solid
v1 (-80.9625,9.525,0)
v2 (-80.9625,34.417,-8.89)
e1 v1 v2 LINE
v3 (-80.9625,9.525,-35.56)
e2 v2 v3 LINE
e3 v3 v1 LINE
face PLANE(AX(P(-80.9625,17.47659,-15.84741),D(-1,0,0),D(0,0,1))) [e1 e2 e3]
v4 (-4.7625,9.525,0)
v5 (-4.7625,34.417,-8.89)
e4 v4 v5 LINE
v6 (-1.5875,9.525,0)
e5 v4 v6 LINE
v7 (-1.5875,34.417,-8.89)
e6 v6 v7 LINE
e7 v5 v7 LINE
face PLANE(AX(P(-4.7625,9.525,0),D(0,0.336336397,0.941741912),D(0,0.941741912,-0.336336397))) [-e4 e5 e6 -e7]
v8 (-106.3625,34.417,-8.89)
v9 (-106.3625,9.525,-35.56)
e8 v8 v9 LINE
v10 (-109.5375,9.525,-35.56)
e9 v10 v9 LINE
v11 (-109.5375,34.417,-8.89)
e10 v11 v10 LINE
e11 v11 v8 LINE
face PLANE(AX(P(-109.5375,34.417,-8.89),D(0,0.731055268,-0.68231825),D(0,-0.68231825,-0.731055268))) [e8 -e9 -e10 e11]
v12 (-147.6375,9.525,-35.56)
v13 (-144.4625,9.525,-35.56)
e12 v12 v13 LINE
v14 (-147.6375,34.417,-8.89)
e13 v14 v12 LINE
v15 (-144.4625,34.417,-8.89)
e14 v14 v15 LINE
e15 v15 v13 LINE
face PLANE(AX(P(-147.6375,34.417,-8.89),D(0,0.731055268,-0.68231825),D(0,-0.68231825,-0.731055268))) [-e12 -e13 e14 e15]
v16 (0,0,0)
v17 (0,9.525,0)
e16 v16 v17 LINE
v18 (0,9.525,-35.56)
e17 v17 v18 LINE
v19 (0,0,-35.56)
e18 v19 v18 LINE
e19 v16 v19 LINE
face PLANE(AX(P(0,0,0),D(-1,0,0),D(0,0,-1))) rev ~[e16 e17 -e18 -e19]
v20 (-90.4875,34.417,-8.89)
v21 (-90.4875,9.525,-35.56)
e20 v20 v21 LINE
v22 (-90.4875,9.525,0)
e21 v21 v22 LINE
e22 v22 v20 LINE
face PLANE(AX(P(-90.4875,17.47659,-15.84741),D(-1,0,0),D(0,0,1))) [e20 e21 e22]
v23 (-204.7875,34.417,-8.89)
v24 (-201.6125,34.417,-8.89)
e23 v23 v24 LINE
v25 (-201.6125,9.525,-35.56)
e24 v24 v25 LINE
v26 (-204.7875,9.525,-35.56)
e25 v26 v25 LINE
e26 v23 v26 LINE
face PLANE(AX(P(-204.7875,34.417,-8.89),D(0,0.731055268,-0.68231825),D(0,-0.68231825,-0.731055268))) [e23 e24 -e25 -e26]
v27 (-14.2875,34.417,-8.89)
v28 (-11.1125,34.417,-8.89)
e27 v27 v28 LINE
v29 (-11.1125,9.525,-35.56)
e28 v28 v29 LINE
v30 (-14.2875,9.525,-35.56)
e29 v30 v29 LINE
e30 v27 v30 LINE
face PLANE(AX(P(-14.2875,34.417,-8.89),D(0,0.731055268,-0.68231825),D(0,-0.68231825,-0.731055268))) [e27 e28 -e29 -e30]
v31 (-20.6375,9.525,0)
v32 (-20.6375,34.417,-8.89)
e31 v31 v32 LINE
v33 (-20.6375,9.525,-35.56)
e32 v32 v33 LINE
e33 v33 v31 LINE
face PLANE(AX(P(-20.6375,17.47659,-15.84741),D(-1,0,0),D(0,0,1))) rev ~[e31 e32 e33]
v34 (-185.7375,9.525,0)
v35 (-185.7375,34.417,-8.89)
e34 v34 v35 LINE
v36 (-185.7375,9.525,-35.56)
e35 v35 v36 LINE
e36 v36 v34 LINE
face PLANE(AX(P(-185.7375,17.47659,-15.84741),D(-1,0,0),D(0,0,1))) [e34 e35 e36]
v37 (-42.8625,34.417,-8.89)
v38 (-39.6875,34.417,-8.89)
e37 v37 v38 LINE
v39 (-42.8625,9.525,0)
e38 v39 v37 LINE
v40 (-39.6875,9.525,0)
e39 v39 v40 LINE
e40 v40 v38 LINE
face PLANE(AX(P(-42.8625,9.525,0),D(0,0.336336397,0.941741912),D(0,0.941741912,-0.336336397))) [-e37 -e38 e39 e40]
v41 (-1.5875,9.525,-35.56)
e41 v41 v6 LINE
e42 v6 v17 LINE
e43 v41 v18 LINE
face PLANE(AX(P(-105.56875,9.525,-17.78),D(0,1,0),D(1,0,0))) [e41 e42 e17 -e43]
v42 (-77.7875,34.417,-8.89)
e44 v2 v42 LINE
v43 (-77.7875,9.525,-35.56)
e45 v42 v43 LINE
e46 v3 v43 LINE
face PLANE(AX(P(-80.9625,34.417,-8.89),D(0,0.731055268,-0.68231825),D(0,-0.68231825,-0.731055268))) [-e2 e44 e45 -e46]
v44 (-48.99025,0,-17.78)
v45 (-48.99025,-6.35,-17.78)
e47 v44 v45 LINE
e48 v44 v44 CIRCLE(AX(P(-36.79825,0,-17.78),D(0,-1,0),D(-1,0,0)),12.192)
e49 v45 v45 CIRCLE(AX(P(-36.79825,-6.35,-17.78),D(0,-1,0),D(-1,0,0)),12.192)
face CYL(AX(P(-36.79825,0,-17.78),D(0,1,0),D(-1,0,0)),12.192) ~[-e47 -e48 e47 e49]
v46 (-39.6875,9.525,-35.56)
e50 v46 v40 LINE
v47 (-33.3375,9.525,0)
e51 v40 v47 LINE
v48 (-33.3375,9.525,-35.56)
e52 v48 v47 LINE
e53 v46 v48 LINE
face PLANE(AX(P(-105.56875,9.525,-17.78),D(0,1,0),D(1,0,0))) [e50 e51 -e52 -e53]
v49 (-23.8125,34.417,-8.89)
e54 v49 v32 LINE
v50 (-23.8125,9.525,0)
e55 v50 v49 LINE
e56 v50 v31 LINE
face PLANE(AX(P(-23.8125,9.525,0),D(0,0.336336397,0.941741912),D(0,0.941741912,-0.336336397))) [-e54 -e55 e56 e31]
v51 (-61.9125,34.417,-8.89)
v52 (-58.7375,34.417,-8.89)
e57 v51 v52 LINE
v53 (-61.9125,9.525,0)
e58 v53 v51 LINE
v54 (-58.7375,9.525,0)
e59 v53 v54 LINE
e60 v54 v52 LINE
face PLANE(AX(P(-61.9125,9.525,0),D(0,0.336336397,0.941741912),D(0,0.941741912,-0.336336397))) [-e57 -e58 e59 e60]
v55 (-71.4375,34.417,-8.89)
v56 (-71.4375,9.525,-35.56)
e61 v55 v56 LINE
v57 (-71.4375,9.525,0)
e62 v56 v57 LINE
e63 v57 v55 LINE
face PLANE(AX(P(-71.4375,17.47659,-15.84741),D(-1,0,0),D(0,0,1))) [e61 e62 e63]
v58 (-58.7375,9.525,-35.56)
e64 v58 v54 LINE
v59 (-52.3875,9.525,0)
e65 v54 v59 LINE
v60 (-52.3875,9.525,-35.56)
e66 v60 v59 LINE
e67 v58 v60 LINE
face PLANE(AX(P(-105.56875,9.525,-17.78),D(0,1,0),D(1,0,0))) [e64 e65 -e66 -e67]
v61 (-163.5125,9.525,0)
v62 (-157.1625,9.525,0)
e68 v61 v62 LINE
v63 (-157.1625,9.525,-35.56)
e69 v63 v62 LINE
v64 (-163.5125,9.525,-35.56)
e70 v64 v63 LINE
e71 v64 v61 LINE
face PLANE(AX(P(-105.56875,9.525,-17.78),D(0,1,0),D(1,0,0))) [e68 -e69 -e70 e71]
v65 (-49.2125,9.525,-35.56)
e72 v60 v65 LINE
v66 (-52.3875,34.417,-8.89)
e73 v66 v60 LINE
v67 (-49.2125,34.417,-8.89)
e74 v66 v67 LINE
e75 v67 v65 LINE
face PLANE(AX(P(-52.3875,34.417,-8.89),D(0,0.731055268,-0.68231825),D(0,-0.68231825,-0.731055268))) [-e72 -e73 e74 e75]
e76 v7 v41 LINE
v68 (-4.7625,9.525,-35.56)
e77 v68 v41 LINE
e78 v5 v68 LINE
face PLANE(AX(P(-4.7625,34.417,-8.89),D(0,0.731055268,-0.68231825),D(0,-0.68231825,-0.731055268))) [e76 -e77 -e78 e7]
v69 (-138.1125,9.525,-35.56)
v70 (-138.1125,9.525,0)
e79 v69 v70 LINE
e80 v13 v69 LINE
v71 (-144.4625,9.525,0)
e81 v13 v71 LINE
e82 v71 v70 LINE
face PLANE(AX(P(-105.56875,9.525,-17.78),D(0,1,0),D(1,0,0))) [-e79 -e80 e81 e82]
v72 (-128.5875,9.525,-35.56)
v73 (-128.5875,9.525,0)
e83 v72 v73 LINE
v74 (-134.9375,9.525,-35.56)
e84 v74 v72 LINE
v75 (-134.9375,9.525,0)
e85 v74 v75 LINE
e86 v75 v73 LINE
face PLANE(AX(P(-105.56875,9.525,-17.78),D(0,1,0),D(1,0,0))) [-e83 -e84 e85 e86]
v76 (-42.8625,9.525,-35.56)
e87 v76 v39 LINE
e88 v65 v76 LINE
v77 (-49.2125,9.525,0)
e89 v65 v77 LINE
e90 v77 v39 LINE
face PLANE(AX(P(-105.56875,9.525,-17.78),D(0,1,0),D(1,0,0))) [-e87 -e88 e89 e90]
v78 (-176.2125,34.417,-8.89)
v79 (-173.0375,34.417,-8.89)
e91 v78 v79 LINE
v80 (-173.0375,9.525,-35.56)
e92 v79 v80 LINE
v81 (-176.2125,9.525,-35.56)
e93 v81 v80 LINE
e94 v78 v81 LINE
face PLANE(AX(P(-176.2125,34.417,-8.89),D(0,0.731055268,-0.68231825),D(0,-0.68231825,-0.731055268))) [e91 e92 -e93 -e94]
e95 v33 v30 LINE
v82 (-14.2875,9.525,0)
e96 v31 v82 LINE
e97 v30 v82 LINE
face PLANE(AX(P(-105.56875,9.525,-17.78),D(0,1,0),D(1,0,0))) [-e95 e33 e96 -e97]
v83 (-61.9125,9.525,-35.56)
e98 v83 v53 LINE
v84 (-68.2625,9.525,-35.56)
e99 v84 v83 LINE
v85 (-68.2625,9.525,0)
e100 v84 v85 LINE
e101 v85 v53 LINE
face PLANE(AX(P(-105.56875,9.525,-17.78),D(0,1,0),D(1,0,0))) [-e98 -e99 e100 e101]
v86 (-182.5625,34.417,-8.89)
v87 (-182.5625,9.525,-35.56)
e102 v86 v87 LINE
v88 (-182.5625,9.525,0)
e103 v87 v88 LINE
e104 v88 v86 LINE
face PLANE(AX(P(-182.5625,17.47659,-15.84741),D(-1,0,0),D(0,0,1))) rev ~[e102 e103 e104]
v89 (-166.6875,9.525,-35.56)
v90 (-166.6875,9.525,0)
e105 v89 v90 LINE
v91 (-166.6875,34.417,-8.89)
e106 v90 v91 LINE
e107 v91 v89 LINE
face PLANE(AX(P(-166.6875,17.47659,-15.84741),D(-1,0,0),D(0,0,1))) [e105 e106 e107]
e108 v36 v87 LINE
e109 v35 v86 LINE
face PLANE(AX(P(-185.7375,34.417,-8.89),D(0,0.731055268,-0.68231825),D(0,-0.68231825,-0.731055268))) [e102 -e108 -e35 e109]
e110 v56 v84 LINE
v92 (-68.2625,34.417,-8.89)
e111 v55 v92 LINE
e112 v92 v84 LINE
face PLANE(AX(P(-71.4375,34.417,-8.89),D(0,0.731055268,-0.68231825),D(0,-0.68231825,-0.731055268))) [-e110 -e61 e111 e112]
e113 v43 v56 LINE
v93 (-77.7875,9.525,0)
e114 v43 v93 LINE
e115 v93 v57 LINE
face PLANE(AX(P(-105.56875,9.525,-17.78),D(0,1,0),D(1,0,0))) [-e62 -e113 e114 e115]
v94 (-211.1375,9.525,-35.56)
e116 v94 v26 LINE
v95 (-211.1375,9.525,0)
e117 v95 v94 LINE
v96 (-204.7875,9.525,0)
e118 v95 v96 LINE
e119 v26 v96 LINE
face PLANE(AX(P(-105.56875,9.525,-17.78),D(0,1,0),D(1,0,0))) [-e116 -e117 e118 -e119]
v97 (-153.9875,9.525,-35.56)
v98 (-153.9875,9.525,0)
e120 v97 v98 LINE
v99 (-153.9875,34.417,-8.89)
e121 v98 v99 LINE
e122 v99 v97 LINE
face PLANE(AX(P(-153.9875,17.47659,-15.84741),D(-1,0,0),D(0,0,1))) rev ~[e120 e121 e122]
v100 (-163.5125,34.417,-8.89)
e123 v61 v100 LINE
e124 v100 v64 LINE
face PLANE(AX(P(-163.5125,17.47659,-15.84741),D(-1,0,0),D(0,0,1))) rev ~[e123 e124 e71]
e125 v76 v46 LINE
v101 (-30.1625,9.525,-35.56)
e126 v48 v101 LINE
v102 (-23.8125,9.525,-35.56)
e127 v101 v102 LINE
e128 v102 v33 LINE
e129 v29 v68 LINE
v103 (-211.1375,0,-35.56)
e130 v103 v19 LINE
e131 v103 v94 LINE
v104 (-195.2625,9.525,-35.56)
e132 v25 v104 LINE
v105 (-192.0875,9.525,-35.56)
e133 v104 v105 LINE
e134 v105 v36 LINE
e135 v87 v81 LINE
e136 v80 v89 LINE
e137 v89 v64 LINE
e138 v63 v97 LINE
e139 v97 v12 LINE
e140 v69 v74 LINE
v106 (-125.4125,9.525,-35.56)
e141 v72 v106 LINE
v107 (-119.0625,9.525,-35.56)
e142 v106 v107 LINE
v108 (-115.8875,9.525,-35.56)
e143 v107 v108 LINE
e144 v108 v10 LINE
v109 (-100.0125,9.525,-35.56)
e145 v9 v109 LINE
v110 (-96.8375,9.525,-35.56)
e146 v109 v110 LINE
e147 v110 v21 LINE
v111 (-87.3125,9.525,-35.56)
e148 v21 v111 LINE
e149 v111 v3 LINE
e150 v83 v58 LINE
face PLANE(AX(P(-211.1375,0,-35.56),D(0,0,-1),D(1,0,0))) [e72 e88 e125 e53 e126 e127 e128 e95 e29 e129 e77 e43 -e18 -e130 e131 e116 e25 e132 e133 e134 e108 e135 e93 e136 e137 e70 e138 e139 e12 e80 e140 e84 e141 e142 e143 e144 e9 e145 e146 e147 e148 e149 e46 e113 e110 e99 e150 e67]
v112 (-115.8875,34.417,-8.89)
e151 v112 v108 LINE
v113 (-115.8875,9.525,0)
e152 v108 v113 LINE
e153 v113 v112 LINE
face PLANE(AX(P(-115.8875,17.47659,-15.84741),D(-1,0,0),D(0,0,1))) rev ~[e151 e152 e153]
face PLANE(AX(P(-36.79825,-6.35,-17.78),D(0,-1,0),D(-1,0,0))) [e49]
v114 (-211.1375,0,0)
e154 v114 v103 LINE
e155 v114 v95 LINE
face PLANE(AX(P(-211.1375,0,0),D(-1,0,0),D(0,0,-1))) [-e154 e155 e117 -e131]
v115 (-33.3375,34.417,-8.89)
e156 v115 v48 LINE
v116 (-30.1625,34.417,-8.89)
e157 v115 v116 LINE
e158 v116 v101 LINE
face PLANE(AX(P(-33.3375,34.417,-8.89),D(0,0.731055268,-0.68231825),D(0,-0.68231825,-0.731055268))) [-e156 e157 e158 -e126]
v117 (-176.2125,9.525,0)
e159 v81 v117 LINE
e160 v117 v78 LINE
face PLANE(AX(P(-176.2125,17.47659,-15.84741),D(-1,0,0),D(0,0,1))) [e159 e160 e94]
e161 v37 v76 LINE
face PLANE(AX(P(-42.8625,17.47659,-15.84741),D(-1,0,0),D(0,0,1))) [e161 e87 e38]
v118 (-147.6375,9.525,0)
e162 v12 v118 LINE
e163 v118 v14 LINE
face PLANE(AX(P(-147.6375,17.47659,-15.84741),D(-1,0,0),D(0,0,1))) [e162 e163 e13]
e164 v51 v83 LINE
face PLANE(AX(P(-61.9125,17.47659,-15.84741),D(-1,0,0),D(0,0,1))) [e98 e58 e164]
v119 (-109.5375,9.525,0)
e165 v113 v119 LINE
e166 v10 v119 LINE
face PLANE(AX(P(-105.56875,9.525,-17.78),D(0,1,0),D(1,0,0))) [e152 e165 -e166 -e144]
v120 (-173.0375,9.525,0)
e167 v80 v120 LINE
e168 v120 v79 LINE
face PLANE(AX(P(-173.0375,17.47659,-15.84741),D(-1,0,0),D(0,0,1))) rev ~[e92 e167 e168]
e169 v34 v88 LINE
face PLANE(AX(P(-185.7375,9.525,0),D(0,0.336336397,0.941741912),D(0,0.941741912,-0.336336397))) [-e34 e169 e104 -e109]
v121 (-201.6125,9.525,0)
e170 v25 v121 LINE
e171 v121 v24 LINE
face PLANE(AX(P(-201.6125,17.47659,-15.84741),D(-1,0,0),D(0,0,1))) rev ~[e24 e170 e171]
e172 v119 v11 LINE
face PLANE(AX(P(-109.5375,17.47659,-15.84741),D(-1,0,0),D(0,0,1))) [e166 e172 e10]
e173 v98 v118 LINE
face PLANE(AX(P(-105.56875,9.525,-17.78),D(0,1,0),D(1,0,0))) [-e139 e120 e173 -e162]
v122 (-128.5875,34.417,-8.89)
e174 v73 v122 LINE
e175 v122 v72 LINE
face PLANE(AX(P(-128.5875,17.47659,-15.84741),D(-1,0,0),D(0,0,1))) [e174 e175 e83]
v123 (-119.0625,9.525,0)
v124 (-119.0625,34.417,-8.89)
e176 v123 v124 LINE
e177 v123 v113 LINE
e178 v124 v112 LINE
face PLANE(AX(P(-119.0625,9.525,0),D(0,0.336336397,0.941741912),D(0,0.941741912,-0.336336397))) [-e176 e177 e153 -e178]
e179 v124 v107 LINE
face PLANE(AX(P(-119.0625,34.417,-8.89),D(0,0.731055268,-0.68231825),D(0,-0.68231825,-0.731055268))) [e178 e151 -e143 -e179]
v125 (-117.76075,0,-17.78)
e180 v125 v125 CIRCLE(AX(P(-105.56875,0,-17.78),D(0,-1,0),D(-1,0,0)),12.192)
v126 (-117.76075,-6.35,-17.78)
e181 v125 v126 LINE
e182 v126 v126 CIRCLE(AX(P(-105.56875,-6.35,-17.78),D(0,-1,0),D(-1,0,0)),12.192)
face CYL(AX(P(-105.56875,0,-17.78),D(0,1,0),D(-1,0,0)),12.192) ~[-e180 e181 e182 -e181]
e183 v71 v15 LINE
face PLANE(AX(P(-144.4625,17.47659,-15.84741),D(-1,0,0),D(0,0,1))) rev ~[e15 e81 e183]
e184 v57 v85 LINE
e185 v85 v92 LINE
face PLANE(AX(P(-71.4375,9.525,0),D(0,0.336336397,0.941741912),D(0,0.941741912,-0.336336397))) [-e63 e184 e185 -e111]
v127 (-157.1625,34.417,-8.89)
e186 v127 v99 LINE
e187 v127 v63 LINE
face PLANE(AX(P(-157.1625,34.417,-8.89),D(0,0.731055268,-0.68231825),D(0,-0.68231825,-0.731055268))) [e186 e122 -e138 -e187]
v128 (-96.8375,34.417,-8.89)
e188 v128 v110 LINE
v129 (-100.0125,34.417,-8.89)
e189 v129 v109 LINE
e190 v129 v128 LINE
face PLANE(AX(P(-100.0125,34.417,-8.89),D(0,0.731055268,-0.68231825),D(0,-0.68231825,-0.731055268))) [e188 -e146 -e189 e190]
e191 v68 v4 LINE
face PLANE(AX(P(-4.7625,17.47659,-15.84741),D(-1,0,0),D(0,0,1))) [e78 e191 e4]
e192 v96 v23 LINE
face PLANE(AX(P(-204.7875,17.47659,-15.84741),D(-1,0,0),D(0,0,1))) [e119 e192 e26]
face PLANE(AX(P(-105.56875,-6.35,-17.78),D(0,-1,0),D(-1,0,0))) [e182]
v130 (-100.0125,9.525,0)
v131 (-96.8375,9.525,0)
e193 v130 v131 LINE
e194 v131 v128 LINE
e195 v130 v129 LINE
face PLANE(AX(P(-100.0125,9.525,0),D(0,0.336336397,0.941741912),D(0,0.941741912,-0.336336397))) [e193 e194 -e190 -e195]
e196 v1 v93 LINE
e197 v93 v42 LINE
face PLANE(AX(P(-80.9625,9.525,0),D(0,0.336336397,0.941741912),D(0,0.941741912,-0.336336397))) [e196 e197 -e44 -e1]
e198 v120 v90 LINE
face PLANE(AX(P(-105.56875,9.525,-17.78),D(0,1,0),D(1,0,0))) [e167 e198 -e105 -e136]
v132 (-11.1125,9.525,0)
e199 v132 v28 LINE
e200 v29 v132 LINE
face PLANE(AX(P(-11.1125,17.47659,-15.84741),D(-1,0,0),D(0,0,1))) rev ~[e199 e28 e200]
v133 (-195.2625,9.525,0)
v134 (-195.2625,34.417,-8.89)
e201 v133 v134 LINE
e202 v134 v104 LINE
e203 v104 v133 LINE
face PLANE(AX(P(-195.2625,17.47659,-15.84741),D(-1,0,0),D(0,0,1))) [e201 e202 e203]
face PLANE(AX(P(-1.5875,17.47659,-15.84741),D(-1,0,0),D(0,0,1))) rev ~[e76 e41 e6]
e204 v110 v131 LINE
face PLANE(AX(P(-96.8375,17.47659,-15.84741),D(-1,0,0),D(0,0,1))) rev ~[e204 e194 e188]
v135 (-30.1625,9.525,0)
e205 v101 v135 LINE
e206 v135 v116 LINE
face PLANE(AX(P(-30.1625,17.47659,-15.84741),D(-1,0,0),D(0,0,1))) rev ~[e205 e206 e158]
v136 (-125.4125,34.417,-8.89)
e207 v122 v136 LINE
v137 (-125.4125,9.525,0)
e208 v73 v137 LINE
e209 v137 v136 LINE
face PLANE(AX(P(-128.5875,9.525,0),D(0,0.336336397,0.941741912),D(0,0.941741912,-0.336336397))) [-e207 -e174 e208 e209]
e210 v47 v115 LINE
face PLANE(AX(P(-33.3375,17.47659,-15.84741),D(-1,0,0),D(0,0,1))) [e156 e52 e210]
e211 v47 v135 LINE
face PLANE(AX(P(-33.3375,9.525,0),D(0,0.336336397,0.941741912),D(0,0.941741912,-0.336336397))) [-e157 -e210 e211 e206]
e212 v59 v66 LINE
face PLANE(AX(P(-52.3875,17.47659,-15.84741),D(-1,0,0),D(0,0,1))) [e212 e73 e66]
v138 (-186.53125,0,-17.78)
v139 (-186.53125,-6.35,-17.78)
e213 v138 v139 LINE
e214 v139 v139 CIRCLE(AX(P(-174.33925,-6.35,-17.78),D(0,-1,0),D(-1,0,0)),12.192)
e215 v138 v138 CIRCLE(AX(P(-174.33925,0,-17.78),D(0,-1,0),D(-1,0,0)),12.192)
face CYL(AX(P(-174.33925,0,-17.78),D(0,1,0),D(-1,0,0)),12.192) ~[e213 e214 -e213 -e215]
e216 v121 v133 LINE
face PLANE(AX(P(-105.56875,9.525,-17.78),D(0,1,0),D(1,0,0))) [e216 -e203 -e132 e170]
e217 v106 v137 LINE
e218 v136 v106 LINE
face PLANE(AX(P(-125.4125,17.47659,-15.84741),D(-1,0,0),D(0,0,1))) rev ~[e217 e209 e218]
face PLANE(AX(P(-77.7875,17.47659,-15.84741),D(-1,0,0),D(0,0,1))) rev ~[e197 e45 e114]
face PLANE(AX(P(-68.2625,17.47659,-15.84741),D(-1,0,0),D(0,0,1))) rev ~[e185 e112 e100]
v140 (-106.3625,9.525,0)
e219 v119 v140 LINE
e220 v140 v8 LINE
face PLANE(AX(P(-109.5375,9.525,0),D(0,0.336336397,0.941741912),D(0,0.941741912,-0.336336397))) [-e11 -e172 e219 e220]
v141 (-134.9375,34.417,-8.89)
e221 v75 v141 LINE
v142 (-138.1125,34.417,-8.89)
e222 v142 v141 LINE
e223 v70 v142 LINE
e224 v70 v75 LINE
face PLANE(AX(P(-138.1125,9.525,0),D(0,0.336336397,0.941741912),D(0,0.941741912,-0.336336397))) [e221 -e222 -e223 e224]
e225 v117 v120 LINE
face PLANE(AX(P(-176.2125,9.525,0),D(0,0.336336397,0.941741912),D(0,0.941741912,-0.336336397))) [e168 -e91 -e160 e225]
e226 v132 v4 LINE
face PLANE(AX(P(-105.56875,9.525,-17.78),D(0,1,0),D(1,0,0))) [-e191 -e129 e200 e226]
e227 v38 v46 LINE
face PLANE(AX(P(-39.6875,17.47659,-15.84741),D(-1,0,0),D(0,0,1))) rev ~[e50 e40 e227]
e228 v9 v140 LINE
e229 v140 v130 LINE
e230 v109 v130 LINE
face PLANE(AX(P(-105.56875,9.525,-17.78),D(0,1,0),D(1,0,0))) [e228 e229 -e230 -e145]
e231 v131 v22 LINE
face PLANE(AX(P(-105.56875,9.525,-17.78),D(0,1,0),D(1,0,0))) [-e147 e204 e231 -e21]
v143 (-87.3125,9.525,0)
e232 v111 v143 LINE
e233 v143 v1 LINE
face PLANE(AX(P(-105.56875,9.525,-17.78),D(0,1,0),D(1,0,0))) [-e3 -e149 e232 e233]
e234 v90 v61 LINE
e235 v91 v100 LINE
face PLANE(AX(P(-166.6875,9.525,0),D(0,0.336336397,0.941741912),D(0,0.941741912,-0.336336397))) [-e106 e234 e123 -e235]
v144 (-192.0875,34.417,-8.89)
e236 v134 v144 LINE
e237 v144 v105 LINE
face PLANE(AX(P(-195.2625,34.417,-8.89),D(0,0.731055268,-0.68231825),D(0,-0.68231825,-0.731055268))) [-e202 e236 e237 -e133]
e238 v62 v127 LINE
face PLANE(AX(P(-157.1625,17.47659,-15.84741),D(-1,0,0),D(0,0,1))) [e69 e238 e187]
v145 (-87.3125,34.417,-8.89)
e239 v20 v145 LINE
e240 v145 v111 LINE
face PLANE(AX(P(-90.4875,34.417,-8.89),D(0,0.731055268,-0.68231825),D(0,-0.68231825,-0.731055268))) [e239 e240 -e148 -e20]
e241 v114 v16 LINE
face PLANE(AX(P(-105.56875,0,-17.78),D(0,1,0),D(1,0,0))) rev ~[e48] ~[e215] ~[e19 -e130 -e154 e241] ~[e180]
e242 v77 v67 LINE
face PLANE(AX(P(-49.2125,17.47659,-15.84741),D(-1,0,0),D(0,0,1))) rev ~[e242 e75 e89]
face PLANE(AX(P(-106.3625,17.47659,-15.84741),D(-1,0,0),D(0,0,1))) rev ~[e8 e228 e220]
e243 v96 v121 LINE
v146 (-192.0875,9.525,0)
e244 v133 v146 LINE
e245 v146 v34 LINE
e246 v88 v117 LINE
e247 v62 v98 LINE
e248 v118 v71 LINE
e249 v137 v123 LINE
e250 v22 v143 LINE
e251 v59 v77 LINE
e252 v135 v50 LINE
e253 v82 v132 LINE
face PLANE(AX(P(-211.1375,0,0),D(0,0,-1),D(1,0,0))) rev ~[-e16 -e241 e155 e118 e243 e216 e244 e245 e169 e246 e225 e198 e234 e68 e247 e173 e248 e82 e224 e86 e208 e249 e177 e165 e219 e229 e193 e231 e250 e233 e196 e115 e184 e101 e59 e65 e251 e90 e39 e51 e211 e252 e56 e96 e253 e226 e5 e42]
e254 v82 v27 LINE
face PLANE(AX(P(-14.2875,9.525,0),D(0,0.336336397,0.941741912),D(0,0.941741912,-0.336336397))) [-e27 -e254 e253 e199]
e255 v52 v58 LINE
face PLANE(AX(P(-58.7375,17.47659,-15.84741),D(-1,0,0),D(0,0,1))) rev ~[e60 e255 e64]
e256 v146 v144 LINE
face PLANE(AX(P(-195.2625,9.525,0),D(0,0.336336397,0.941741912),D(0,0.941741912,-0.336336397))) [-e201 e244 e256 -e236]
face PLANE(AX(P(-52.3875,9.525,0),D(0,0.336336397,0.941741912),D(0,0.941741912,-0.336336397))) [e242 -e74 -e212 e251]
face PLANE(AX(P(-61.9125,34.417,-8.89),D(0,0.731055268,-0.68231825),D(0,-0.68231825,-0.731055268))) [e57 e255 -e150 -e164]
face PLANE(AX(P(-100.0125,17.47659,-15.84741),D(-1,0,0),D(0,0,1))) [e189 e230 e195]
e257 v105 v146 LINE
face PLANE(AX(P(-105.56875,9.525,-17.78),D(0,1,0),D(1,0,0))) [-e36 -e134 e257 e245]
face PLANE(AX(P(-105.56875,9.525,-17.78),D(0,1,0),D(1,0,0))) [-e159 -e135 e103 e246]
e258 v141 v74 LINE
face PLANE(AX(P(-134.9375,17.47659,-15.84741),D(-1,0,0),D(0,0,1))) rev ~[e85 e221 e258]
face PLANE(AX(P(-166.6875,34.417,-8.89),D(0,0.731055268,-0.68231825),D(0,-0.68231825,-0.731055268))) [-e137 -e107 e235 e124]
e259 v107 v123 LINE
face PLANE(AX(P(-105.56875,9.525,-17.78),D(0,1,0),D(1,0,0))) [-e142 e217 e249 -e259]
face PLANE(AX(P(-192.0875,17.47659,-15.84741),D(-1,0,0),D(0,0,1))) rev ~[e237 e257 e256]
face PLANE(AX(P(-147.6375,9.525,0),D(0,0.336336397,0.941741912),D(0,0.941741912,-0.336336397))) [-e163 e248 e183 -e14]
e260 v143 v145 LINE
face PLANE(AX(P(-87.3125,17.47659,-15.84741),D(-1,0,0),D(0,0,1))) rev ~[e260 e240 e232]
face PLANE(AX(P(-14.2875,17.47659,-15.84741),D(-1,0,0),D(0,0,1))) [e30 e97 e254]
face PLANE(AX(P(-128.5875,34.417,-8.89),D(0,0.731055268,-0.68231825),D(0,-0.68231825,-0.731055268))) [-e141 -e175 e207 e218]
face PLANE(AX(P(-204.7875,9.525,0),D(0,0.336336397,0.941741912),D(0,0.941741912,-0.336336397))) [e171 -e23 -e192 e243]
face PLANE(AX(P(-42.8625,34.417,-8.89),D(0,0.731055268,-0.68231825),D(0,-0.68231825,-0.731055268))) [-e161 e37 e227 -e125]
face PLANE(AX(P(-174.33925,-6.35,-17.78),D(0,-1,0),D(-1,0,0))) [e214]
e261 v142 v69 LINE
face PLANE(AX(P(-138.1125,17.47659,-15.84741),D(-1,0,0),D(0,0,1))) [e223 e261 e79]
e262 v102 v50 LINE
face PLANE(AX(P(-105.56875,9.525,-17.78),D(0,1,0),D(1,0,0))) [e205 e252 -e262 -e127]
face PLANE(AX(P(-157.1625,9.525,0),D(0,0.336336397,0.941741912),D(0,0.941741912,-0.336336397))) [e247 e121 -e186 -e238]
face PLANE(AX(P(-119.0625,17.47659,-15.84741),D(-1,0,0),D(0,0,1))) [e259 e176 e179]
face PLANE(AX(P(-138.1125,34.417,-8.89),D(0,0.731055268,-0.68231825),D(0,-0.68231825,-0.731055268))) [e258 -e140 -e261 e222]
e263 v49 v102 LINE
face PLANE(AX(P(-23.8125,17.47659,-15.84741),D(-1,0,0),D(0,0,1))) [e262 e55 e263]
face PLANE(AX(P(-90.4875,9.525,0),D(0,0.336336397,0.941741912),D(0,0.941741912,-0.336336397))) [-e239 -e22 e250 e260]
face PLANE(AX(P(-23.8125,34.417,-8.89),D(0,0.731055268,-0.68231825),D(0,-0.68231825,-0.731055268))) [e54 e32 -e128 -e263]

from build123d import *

# Parameters (mm, degrees)
SKETCH1_W           = 211.1375
SKETCH1_H           = 35.56
BOSS_EXTRUDE1_DEPTH = 9.525
SKETCH6_R           = 12.192
BOSS_EXTRUDE4_DEPTH = 6.35
BOSS_EXTRUDE5_DEPTH = 3.175
LPATTERN1_COUNT     = 22
LPATTERN1_PITCH     = 9.525


with BuildPart() as part:
    # Sketch1 → Boss-Extrude1 (new body)
    with BuildSketch(Plane(origin=(0, 0, 0), x_dir=(1, 0, 0), z_dir=(0, 1, 0))):
        with Locations((-105.56875, 17.78)):
            Rectangle(SKETCH1_W, SKETCH1_H)
    extrude(amount=BOSS_EXTRUDE1_DEPTH)

    # Sketch6 → Boss-Extrude4 (add)
    with BuildSketch(Plane(origin=(0, 0, 0), x_dir=(-1, 0, 0), z_dir=(0, -1, 0))):
        with Locations((105.56875, 17.78)):
            Circle(SKETCH6_R)
        with Locations((36.79825, 17.78)):
            Circle(SKETCH6_R)
        with Locations((174.33925, 17.78)):
            Circle(SKETCH6_R)
    extrude(amount=BOSS_EXTRUDE4_DEPTH)

    # Sketch9 → Boss-Extrude5 (add)
    with BuildSketch(Plane.ZY.offset(204.7875)):
        Polygon((-35.56, 9.525), (0, 9.525), (-8.89, 34.417), align=None)
    boss_extrude5 = extrude(amount=-BOSS_EXTRUDE5_DEPTH)

    # LPattern1: Boss-Extrude5 ×22
    with Locations(*[(i * LPATTERN1_PITCH, 0, 0) for i in range(1, LPATTERN1_COUNT)]):
        add(boss_extrude5)


solid = part.part
